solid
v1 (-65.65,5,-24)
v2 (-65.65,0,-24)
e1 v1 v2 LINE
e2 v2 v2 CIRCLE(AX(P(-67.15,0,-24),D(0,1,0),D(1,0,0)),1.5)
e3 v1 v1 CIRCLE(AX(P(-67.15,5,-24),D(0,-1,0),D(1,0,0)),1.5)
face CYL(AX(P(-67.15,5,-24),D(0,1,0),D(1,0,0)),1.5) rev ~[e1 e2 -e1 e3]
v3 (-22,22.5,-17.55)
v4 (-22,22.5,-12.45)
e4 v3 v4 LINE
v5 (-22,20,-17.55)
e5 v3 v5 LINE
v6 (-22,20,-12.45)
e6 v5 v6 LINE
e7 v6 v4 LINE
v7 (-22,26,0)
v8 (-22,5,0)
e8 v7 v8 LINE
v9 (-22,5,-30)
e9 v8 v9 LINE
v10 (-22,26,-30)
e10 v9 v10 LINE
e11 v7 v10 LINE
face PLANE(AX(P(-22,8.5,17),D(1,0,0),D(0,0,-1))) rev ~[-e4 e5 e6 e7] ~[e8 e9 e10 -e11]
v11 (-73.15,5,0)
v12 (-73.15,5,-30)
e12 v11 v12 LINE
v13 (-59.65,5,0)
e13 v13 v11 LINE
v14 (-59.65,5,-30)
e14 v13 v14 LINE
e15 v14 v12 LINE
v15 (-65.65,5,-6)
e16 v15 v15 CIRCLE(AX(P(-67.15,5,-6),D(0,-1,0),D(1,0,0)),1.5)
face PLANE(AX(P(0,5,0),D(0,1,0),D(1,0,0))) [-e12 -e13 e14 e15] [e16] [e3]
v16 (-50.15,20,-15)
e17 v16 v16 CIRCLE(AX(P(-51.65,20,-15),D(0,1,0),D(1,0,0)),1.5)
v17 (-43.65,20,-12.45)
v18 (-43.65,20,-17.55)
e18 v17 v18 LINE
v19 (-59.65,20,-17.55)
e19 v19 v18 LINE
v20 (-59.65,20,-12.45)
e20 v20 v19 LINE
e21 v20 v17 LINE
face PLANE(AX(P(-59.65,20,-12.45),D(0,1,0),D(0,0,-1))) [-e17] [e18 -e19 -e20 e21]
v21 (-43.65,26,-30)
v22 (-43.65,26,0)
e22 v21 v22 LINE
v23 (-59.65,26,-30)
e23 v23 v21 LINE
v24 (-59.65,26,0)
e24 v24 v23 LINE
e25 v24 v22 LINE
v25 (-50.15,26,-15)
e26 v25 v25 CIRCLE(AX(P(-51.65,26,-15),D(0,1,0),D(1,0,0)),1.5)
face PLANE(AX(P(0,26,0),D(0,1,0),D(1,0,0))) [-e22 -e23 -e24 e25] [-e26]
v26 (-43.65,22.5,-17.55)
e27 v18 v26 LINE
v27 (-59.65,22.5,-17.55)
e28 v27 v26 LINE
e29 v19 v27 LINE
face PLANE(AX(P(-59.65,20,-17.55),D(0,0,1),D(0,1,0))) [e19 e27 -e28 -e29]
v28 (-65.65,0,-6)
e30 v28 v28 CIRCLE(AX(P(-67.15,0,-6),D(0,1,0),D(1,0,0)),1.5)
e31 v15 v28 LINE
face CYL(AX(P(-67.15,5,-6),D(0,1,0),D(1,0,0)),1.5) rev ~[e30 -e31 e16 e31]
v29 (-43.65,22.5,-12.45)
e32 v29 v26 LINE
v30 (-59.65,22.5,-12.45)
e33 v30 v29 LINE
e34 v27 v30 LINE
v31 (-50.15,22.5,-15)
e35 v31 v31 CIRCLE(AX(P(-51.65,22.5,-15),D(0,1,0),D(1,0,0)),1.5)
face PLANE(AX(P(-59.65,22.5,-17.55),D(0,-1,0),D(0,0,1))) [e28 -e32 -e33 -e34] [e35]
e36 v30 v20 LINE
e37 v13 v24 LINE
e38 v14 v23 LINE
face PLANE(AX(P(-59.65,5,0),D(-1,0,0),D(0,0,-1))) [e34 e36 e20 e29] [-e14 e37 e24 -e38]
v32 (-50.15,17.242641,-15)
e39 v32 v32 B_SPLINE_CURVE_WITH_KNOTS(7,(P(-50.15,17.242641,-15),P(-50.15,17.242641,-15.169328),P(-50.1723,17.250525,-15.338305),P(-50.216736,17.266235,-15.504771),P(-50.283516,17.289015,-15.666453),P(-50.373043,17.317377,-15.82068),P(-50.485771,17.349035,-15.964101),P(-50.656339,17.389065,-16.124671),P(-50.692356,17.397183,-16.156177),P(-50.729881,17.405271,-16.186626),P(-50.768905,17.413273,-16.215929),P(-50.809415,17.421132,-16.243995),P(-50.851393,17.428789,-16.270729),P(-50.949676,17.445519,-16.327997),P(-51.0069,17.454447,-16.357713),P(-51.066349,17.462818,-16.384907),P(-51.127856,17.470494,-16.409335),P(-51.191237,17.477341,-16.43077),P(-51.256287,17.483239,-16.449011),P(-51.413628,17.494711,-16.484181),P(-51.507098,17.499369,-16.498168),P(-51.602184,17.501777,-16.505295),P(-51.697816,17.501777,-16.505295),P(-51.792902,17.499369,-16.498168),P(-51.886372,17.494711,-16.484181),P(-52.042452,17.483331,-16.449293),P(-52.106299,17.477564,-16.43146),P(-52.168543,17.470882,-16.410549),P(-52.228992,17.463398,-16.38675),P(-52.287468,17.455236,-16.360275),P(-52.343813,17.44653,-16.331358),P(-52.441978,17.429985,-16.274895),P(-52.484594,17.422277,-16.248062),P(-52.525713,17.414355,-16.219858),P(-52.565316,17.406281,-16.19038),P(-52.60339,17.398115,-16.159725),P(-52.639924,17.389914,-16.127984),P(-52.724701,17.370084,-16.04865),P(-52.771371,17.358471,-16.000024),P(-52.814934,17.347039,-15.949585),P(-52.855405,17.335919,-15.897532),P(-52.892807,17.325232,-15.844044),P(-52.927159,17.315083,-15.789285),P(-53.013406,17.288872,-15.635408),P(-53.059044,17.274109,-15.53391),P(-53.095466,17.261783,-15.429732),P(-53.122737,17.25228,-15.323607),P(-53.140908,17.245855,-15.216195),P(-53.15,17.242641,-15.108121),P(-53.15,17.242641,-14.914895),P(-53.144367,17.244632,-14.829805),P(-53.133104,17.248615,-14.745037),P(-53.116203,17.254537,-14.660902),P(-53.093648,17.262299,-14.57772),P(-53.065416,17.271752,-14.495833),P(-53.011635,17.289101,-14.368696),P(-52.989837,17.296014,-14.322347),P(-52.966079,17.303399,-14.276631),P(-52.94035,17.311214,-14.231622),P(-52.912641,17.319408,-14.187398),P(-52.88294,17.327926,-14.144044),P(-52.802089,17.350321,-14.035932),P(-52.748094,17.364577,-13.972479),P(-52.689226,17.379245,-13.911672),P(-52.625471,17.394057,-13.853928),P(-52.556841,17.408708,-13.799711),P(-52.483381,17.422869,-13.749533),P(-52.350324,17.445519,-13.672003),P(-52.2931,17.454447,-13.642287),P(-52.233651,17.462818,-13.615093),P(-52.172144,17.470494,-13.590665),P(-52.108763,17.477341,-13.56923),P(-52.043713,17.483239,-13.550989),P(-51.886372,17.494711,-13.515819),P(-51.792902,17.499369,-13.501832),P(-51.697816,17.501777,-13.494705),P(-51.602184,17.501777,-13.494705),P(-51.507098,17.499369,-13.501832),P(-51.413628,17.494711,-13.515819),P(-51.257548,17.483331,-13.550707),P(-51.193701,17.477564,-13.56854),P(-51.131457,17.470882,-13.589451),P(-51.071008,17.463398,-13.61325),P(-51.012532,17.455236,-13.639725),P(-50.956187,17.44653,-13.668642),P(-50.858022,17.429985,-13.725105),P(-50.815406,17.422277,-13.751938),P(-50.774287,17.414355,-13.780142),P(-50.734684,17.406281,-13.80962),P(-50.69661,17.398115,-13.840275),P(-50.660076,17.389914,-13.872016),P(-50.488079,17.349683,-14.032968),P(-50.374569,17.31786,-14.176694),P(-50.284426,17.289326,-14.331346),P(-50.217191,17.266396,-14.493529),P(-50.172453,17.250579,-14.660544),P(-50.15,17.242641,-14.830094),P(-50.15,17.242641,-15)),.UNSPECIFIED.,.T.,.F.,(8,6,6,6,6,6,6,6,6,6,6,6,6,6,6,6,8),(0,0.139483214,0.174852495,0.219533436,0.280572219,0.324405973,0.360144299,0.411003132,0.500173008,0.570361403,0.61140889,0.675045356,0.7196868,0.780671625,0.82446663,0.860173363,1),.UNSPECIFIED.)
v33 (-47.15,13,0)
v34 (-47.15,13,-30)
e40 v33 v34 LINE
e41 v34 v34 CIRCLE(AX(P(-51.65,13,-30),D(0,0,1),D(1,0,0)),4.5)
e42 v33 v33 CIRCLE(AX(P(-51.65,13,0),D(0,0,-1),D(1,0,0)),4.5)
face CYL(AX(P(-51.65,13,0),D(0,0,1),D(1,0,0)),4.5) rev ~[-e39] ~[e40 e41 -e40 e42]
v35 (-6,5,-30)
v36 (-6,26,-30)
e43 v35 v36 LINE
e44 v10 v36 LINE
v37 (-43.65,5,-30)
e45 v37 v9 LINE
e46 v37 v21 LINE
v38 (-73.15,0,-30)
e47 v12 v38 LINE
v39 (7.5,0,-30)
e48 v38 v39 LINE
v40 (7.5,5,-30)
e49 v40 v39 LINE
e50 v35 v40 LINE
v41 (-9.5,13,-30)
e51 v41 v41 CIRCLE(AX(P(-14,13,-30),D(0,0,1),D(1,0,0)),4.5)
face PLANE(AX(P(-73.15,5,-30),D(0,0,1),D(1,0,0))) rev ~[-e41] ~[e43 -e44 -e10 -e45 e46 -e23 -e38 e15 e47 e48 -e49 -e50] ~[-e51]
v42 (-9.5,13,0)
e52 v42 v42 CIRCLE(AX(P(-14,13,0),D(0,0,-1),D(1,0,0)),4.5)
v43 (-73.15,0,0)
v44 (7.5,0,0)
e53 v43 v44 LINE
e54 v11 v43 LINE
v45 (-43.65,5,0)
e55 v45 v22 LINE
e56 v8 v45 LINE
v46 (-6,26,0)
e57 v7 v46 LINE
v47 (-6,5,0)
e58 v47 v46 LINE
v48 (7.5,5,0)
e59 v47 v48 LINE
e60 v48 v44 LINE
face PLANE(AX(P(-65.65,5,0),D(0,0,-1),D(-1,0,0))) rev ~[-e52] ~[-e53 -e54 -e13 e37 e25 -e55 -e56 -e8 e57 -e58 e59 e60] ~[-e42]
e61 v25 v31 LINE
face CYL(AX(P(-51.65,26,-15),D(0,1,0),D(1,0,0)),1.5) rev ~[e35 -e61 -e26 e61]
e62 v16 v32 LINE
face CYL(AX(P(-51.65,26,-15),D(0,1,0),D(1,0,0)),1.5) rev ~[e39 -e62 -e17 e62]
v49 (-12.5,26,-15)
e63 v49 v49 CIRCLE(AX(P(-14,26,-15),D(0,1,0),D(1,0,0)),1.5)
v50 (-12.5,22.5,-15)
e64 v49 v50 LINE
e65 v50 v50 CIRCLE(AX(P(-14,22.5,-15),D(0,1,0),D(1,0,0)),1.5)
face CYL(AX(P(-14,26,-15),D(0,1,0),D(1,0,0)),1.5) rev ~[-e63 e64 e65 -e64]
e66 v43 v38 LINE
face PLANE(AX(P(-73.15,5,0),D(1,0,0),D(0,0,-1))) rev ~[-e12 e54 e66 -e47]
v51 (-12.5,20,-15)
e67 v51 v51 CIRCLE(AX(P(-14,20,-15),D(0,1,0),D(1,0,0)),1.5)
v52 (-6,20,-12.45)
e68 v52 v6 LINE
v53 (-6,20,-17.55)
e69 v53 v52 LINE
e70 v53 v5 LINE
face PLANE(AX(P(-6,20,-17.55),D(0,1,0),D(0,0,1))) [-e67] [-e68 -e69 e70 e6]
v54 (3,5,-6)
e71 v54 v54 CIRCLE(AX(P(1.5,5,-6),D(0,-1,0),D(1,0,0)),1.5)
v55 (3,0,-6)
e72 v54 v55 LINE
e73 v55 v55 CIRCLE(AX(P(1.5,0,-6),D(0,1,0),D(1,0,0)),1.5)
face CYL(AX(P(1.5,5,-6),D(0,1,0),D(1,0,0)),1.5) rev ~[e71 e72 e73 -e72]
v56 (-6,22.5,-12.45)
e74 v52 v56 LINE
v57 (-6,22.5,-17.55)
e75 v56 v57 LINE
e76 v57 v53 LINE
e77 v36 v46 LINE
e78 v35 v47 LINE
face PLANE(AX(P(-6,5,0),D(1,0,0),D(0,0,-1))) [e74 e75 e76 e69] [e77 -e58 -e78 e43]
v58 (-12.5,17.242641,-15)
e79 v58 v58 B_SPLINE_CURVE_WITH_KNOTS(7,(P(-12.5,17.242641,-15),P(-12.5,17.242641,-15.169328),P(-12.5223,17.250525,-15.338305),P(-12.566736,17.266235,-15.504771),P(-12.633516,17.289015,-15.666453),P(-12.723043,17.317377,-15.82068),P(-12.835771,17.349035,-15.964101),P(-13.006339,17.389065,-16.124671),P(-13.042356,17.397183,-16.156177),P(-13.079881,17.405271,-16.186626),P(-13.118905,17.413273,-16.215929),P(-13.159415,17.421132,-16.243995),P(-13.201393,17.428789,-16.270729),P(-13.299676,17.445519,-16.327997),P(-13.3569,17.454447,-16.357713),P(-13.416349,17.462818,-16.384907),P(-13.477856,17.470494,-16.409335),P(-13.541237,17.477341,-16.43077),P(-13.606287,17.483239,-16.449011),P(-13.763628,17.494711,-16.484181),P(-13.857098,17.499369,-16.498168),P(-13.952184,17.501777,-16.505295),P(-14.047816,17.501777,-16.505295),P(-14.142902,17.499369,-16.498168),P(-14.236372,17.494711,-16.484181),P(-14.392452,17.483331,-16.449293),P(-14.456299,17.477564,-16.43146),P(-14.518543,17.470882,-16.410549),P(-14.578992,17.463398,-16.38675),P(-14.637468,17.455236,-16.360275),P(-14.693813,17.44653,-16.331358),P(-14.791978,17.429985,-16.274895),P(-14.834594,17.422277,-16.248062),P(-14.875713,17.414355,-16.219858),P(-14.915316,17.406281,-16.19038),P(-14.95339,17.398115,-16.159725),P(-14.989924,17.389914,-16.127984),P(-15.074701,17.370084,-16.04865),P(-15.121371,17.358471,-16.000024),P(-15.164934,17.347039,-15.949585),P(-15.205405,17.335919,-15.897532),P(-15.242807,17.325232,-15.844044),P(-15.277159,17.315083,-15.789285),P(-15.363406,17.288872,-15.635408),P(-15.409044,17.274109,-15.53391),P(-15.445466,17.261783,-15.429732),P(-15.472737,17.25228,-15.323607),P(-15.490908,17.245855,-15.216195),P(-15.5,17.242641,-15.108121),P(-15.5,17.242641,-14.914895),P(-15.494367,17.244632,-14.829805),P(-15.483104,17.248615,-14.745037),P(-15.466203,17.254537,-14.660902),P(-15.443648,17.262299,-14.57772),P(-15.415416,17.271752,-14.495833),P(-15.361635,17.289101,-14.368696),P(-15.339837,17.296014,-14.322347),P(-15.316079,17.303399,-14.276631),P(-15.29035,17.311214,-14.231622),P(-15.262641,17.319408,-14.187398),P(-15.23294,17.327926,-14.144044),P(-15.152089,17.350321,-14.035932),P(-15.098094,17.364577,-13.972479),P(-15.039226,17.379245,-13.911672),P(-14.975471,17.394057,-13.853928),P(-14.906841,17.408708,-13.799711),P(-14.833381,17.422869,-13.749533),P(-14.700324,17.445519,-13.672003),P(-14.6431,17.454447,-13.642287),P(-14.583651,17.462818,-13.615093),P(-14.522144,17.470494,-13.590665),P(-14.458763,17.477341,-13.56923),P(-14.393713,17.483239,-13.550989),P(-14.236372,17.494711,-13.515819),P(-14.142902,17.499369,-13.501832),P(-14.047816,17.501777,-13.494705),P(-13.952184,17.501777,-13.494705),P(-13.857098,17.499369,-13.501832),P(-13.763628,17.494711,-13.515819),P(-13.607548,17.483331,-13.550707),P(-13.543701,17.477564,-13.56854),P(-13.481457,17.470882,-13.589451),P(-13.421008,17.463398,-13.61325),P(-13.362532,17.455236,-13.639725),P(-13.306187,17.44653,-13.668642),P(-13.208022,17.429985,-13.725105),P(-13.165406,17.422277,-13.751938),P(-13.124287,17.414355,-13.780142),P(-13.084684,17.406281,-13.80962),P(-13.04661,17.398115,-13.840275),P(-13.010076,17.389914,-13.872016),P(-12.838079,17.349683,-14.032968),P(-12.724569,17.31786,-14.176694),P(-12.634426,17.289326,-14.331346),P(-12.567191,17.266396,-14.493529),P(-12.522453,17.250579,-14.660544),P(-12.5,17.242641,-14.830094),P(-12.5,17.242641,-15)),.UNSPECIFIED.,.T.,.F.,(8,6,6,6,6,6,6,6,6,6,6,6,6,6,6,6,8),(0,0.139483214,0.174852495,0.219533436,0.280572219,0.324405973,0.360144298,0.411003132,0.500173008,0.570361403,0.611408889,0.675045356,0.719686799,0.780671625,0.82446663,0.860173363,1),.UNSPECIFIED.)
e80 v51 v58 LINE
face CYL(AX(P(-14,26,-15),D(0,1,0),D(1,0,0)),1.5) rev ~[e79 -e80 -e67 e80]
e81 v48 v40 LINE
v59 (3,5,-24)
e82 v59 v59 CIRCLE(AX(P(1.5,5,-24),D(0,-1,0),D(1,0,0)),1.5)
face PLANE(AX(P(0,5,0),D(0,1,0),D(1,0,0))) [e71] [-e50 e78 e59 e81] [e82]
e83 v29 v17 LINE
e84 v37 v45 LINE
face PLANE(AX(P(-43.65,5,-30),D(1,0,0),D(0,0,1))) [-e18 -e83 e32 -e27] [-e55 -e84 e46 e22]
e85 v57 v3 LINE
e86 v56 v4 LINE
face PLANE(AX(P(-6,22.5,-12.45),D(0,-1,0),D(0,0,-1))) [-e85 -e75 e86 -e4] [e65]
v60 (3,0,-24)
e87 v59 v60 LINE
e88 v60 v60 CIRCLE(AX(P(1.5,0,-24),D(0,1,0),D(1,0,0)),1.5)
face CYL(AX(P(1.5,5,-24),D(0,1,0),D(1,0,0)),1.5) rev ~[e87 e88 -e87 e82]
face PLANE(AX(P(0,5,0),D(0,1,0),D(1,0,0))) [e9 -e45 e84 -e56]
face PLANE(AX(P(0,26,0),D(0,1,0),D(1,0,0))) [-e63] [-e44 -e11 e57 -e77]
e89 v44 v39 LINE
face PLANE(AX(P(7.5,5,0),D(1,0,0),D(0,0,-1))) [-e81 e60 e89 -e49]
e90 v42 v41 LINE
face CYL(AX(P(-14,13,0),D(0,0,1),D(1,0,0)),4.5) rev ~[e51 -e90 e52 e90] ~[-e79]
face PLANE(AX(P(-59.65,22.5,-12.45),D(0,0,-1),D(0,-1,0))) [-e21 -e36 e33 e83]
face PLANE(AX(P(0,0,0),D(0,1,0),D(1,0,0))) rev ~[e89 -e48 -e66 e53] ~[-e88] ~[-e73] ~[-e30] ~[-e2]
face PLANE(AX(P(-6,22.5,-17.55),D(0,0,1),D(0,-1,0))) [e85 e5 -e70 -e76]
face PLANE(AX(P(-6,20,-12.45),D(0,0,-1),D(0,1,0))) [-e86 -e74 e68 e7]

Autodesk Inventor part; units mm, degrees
ref_plane "YZ Plane" through (0, 0, 0) normal (1, 0, 0) x (0, 1, 0)
ref_plane "XZ Plane" through (0, 0, 0) normal (0, 1, 0) x (-1, 0, 0)
ref_plane "XY Plane" through (0, 0, 0) normal (0, 0, 1) x (1, 0, 0)
sketch "Skizze1" plane through (0, 0, 0) normal (0, 1, 0) x (-1, 0, 0)
  line L0 (0, 0) -> (65.65, 0)
  line L1 (65.65, 0) -> (65.65, -80)
  line L2 (65.65, -80) -> (0, -80)
  line L3 (0, -80) -> (0, 0)
  dimension "d0" = 65.65
  dimension "d1" = 80
extrude "Extrusion1" add sketch "Skizze1" along normal blind 5
sketch "Skizze2" plane through (0, 5, 0) normal (0, 1, 0) x (1, 0, 0)
  line L0 (-65.65, 80) -> (-65.65, 0) projected
  line L1 (-65.65, 0) -> (0, 0) projected
  line L2 (-65.65, 0) -> (-59.65, 0) construction
  line L3 (-59.65, 0) -> (-59.65, 30)
  line L4 (-59.65, 30) -> (-43.65, 30)
  line L5 (-43.65, 30) -> (-43.65, 0)
  line L6 (-43.65, 0) -> (-59.65, 0)
  line L7 (-22, 0) -> (-22, 30)
  line L8 (-22, 30) -> (-6, 30)
  line L9 (-6, 30) -> (-6, 0)
  line L10 (-6, 0) -> (-22, 0)
  dimension "d4" = 6
  dimension "d6" = 30
  dimension "d7" = 16
  dimension "d8" = 90
  dimension "d9" = 16
  dimension "d10" = 21.65
  dimension "d11" = 30
  dimension "d12" = 16
  dimension "d13" = 90
  dimension "d14" = 30
  dimension "d15" = 90
extrude "Extrusion2" add sketch "Skizze2" along normal blind 21 contours L3 L4 L5 L1
sketch "Skizze3" plane through (0, 5, 0) normal (0, 1, 0) x (1, 0, 0)
  line L0 (-43.65, 0) -> (0, 0) projected
  line L1 (-43.65, 0) -> (-22, 0)
  line L2 (-22, 0) -> (-22, 30)
  line L3 (-22, 30) -> (-6, 30)
  line L4 (-6, 30) -> (-6, 0)
  line L5 (-6, 0) -> (-22, 0)
  dimension "d18" = 21.65
  dimension "d19" = 30
  dimension "d21" = 16
  dimension "d22" = 16
extrude "Extrusion3" add sketch "Skizze3" along normal blind 21
sketch "Skizze4" plane through (0, 5, 0) normal (0, 1, 0) x (1, 0, 0)
  line L0 (-65.65, 0) -> (0, 0) projected
  line L1 (-5.9719, 0) -> (14.5281, 0)
  line L2 (14.5281, 0) -> (14.5281, 80)
  line L3 (0, 0) -> (0, 80) projected
  line L4 (14.5281, 80) -> (0, 80)
  line L5 (0, 80) -> (0, 0)
  dimension "d25" = 20.5
  dimension "d26" = 80
  dimension "d27" = 90
extrude "Extrusion4" add sketch "Skizze4" against normal blind 5
sketch "Skizze5" plane through (0, 5, 0) normal (0, 1, 0) x (1, 0, 0)
  line L0 (-22, 30) -> (-6, 30) projected
  line L1 (-22, 30) -> (-14, 30)
  line L2 (-14, 30) -> (-14, 38)
  line L3 (-14, 38) -> (-29.5, 38)
  circle A0 centre (-29.5, 38) radius 1
  point P0 (0, 0)
  dimension "d30" = 8
  dimension "d31" = 8
  dimension "d32" = 15.5
  dimension "d33" = 2
extrude "Extrusion5" cut sketch "Skizze5" against normal blind 5
sketch "Skizze6" plane through (0, 5, 0) normal (0, 1, 0) x (1, 0, 0)
  circle A0 centre (-29.5, 38) radius 1 projected
  line L0 (-29.5, 38) -> (1.5, 38)
  line L1 (-29.5, 38) -> (1.5, 38) construction
  circle A1 centre (1.5, 38) radius 1
  point P0 (0, 0)
  dimension "d36" = 31
  dimension "d37" = 0
  dimension "d38" = 2
extrude "Extrusion6" cut sketch "Skizze6" against normal blind 5 contours A1
sketch "Skizze7" plane through (0, 5, 0) normal (0, 1, 0) x (1, 0, 0)
  circle A0 centre (1.5, 38) radius 1 projected
  line L0 (1.5, 38) -> (1.5, 69)
  circle A1 centre (1.5, 69) radius 1
  point P0 (0, 0)
  dimension "d41" = 31
  dimension "d42" = 2
extrude "Extrusion7" cut sketch "Skizze7" against normal blind 5 contours A1
sketch "Skizze8" plane through (0, 5, 0) normal (0, 1, 0) x (1, 0, 0)
  circle A0 centre (-29.5, 38) radius 1 projected
  line L0 (-29.5, 38) -> (-29.5, 69)
  circle A1 centre (-29.5, 69) radius 1
  point P0 (0, 0)
  dimension "d45" = 31
  dimension "d46" = 2
extrude "Extrusion8" cut sketch "Skizze8" against normal blind 5 contours A1
sketch "Skizze9" plane through (0, 5, 0) normal (0, 1, 0) x (1, 0, 0)
  circle A0 centre (1.5, 38) radius 1 projected
  line L0 (1.5, 38) -> (7.5, 38)
  line L1 (14.5281, 80) -> (-65.65, 80) projected
  line L2 (-65.65, 0) -> (14.5281, 0) projected
  line L3 (14.5281, 0) -> (14.5281, 80) projected
  line L4 (7.5, 38) -> (14.5281, 38)
  line L5 (14.5281, 38) -> (14.5281, 80)
  line L6 (14.5281, 80) -> (7.5, 80)
  line L7 (7.5, 80) -> (7.5, 38)
  point P0 (0, 0)
  dimension "d49" = 6
extrude "Extrusion9" cut sketch "Skizze9" against normal blind 5 contours L7 L1 L3 L4
sketch "Skizze10" plane through (0, 5, 0) normal (0, 1, 0) x (1, 0, 0)
  line L0 (7.5, 38) -> (7.5, 80) projected
  line L1 (14.5281, 0) -> (14.5281, 38) projected
  line L2 (7.5, 38) -> (14.5281, 38)
  line L3 (14.5281, 38) -> (14.5281, 0)
  line L4 (14.5281, 0) -> (7.5, 0)
  line L5 (7.5, 0) -> (7.5, 38)
  point P0 (0, 0)
extrude "Extrusion10" cut sketch "Skizze10" against normal blind 5
sketch "Skizze11" plane through (0, 5, 0) normal (0, 1, 0) x (1, 0, 0)
  circle A0 centre (1.5, 69) radius 1 projected
  line L0 (1.5, 69) -> (1.5, 75)
  line L1 (1.5, 75) -> (7.5, 75)
  line L2 (7.5, 0) -> (7.5, 80) projected
  line L3 (7.5, 80) -> (1.5, 80)
  line L4 (7.5, 80) -> (-65.65, 80) projected
  line L5 (1.5, 75) -> (1.5, 80)
  point P0 (0, 0)
  dimension "d54" = 6
extrude "Extrusion11" cut sketch "Skizze11" against normal blind 5 contours L5 L3 L2 L1
sketch "Skizze12" plane through (0, 5, 0) normal (0, 1, 0) x (1, 0, 0)
  line L0 (1.5, 80) -> (-65.65, 80) projected
  line L1 (1.5, 75) -> (-65.65, 75)
  line L2 (-65.65, 75) -> (-65.65, 80)
  line L3 (-65.65, 80) -> (1.5, 80)
  line L4 (1.5, 80) -> (1.5, 75)
  point P0 (0, 0)
extrude "Extrusion12" cut sketch "Skizze12" against normal blind 5
sketch "Skizze13" plane through (0, 5, 0) normal (0, 1, 0) x (1, 0, 0)
  circle A0 centre (1.5, 38) radius 1 projected
  line L0 (1.5, 38) -> (1.5, 23)
  circle A1 centre (1.5, 23) radius 1
  point P0 (0, 0)
  dimension "d59" = 15
  dimension "d60" = 2
extrude "Extrusion13" cut sketch "Skizze13" against normal blind 5 contours A1
sketch "Skizze14" plane through (0, 5, 0) normal (0, 1, 0) x (1, 0, 0)
  circle A0 centre (1.5, 23) radius 1 projected
  line L0 (-65.65, 0) -> (7.5, 0) projected
  line L1 (-6, 30) -> (-6, 0) projected
  line L2 (1.5, 0) -> (-6, 0)
  line L3 (1.5, 0) -> (1.5, 6)
  circle A1 centre (1.5, 6) radius 1
  point P0 (0, 0)
  dimension "d63" = 6
  dimension "d64" = 2
extrude "Extrusion14" cut sketch "Skizze14" against normal blind 5 contours A1
sketch "Skizze15" plane through (0, 5, 0) normal (0, 1, 0) x (1, 0, 0)
  line L0 (-65.65, 0) -> (7.5, 0) projected
  line L1 (-65.65, 0) -> (-62.65, 0)
  line L2 (-62.65, 0) -> (-62.65, 6)
  circle A0 centre (-62.65, 6) radius 1
  point P0 (0, 0)
  dimension "d67" = 3
  dimension "d68" = 6
  dimension "d69" = 2
extrude "Extrusion15" cut sketch "Skizze15" against normal blind 5
sketch "Skizze16" plane through (0, 5, 0) normal (0, 1, 0) x (1, 0, 0)
  circle A0 centre (-62.65, 6) radius 1 projected
  line L0 (-62.65, 6) -> (-62.65, 23)
  circle A1 centre (-62.65, 23) radius 1
  point P0 (0, 0)
  dimension "d72" = 17
  dimension "d73" = 2
extrude "Extrusion16" cut sketch "Skizze16" against normal blind 5 contours A1
sketch "Skizze17" plane through (-65.65, 0, 0) normal (0, 0, 1) x (1, 0, 0)
  line L0 (6, 26) -> (22, 26) projected
  line L1 (6, 26) -> (14, 26)
  line L2 (14, 26) -> (14, 13)
  circle A0 centre (14, 13) radius 4.5
  point P0 (65.65, 0)
  dimension "d76" = 8
  dimension "d77" = 13
  dimension "d78" = 9
extrude "Extrusion17" cut sketch "Skizze17" against normal blind 30
sketch "Skizze18" plane through (-65.65, 0, 0) normal (0, 0, 1) x (1, 0, 0)
  line L0 (43.65, 5) -> (43.65, 26) projected
  line L1 (43.65, 26) -> (51.65, 26)
  line L2 (51.65, 26) -> (51.65, 13)
  circle A0 centre (51.65, 13) radius 4.5
  point P0 (65.65, 0)
  dimension "d81" = 8
  dimension "d82" = 13
  dimension "d83" = 9
extrude "Extrusion18" cut sketch "Skizze18" against normal blind 30
sketch "Skizze19" plane through (-59.65, 5, -30) normal (-1, 0, 0) x (0, 0, 1)
  line L0 (0, 0) -> (0, 21) projected
  line L1 (0, 21) -> (15, 21)
  line L2 (0, 21) -> (30, 21) projected
  line L3 (15, 21) -> (15, 17)
  line L4 (15, 17) -> (17.75, 17)
  line L5 (17.75, 17) -> (12.25, 17)
  line L6 (12.25, 17) -> (12.25, 15.75)
  line L7 (12.25, 15.75) -> (17.75, 15.75)
  line L8 (17.75, 15.75) -> (17.75, 17)
  point P0 (30, -5)
  dimension "d86" = 15
  dimension "d87" = 4
  dimension "d88" = 2.75
  dimension "d89" = 5.5
  dimension "d90" = 1.25
extrude "Extrusion19" cut sketch "Skizze19" against normal blind 16
sketch "Skizze20" plane through (0, 5, 0) normal (0, 1, 0) x (1, 0, 0)
  circle A0 centre (1.5, 23) radius 1 projected
  circle A1 centre (1.5, 23) radius 1.5
  point P0 (0, 0)
  dimension "d93" = 3
extrude "Extrusion20" cut sketch "Skizze20" against normal blind 5 contours A0 | A1
sketch "Skizze21" plane through (0, 5, 0) normal (0, 1, 0) x (1, 0, 0)
  circle A0 centre (1.5, 6) radius 1 projected
  circle A1 centre (1.5, 6) radius 1.5
  point P0 (0, 0)
  dimension "d96" = 3
extrude "Extrusion21" cut sketch "Skizze21" against normal blind 5 contours A0 | A1
sketch "Skizze22" plane through (0, 5, 0) normal (0, 1, 0) x (1, 0, 0)
  circle A0 centre (-62.65, 23) radius 1 projected
  circle A1 centre (-62.65, 23) radius 1.5
  point P0 (0, 0)
  dimension "d99" = 3
extrude "Extrusion22" cut sketch "Skizze22" against normal blind 5 contours A0 | A1
sketch "Skizze23" plane through (0, 5, 0) normal (0, 1, 0) x (1, 0, 0)
  circle A0 centre (-62.65, 6) radius 1 projected
  circle A1 centre (-62.65, 6) radius 1.5
  point P0 (0, 0)
  dimension "d102" = 3
extrude "Extrusion23" cut sketch "Skizze23" against normal blind 5 contours A0 | A1
sketch "Skizze24" plane through (0, 5, 0) normal (0, 1, 0) x (1, 0, 0)
  circle A0 centre (1.5, 69) radius 1 projected
  circle A1 centre (1.5, 69) radius 2.25
  point P0 (0, 0)
  dimension "d105" = 4.5
extrude "Extrusion24" cut sketch "Skizze24" against normal blind 5 contours A0 | A1
sketch "Skizze25" plane through (0, 5, 0) normal (0, 1, 0) x (1, 0, 0)
  circle A0 centre (-29.5, 69) radius 1 projected
  circle A1 centre (-29.5, 69) radius 2.25
  point P0 (0, 0)
  dimension "d108" = 4.5
extrude "Extrusion25" cut sketch "Skizze25" against normal blind 5 contours A0 | A1
sketch "Skizze26" plane through (0, 5, 0) normal (0, 1, 0) x (1, 0, 0)
  circle A0 centre (1.5, 38) radius 1 projected
  circle A1 centre (1.5, 38) radius 2.25
  point P0 (0, 0)
  dimension "d112" = 4.5
extrude "Extrusion26" cut sketch "Skizze26" against normal blind 5 contours A0 | A1
sketch "Skizze27" plane through (0, 5, 0) normal (0, 1, 0) x (1, 0, 0)
  circle A0 centre (-29.5, 38) radius 1 projected
  circle A1 centre (-29.5, 38) radius 2.25
  point P0 (0, 0)
  dimension "d115" = 4.5
extrude "Extrusion27" cut sketch "Skizze27" against normal blind 5 contours A0 | A1
sketch "Skizze28" plane through (0, 26, 0) normal (0, 1, 0) x (1, 0, 0)
  line L0 (-43.65, 30) -> (-43.65, 0) projected
  line L1 (-59.65, 0) -> (-59.65, 30) projected
  line L2 (-43.65, 0) -> (-59.65, 30)
  line L3 (-59.65, 30) -> (-43.65, 30) projected
  line L4 (-43.65, 30) -> (-59.65, 0)
  circle A0 centre (-51.65, 15) radius 1.5
  point P0 (0, 0)
  dimension "d118" = 3
extrude "Extrusion28" cut sketch "Skizze28" against normal blind 13 contours A0 L2 L4 | L4 L2 A0 | A0 L4 L2 | L2 L4 A0
sketch "Skizze29" plane through (-6, 5, 0) normal (1, 0, 0) x (0, 0, -1)
  line L0 (0, 21) -> (15, 21)
  line L1 (0, 21) -> (30, 21) projected
  line L2 (15, 21) -> (11, 21)
  line L3 (15, 21) -> (15, 17)
  line L4 (15, 21) -> (19, 21) construction
  line L5 (15, 17) -> (17.27, 17)
  line L6 (12.25, 17) -> (17.75, 17) projected
  line L7 (17.27, 17) -> (11.77, 17)
  line L8 (11.77, 17) -> (11.77, 15.75)
  line L9 (11.77, 15.75) -> (17.27, 15.75)
  line L10 (17.27, 15.75) -> (17.27, 17)
  point P0 (0, -5)
  dimension "d123" = 15
  dimension "d124" = 4
  dimension "d125" = 4
  dimension "d126" = 90
  dimension "d127" = 2.27
  dimension "d128" = 5.5
  dimension "d129" = 1.25
extrude "Extrusion29" cut sketch "Skizze29" against normal blind 16
sketch "Skizze30" plane through (0, 26, 0) normal (0, 1, 0) x (1, 0, 0)
  line L0 (-22, 30) -> (-22, 0) projected
  line L1 (-6, 0) -> (-6, 30) projected
  line L2 (-22, 0) -> (-6, 30)
  line L3 (-22, 30) -> (-6, 0)
  circle A0 centre (-14, 15) radius 1.5
  point P0 (0, 0)
  dimension "d132" = 3
extrude "Extrusion30" cut sketch "Skizze30" against normal blind 13 contours A0 L2 L3 | L3 L2 A0 | L2 L3 A0 | L2 A0 L3
sketch "Skizze31" plane through (0, 5, 0) normal (0, 1, 0) x (1, 0, 0)
  circle A0 centre (-29.5, 38) radius 2.25 projected
  circle A1 centre (1.5, 69) radius 2.25 projected
  line L0 (-29.5, 38) -> (1.5, 69)
  circle A2 centre (-29.5, 69) radius 2.25 projected
  circle A3 centre (1.5, 38) radius 2.25 projected
  line L1 (-29.5, 69) -> (1.5, 38)
  circle A4 centre (-14, 53.5) radius 11.5
  point P0 (0, 0)
  dimension "d137" = 23
extrude "Extrusion31" cut sketch "Skizze31" against normal blind 5 contours A4 L1 L0 | L0 L1 A4 | L1 A4 L0 | L0 A4 L1
sketch "Skizze32" plane through (0, 5, 0) normal (0, 1, 0) x (1, 0, 0)
  circle A0 centre (-29.5, 38) radius 2.25 projected
  circle A1 centre (-29.5, 38) radius 2.25
  point P0 (0, 0)
  dimension "d140" = 4.5
extrude "Extrusion32" add sketch "Skizze32" against normal blind 5
sketch "Skizze33" plane through (0, 5, 0) normal (0, 1, 0) x (1, 0, 0)
  circle A0 centre (-29.5, 69) radius 2.25 projected
  circle A1 centre (-29.5, 69) radius 2.25
  point P0 (0, 0)
  dimension "d143" = 4.5
extrude "Extrusion33" add sketch "Skizze33" against normal blind 5
sketch "Skizze34" plane through (0, 5, 0) normal (0, 1, 0) x (1, 0, 0)
  circle A0 centre (1.5, 38) radius 2.25 projected
  circle A1 centre (1.5, 38) radius 2.25
  point P0 (0, 0)
  dimension "d146" = 4.5
extrude "Extrusion34" add sketch "Skizze34" against normal blind 5
sketch "Skizze35" plane through (0, 5, 0) normal (0, 1, 0) x (1, 0, 0)
  circle A0 centre (-14, 53.5) radius 11.5 projected
  circle A1 centre (-14, 53.5) radius 11.5
  point P0 (0, 0)
  dimension "d149" = 23
extrude "Extrusion35" add sketch "Skizze35" against normal blind 5
sketch "Skizze36" plane through (0, 5, 0) normal (0, 1, 0) x (1, 0, 0)
  point P0 (0, 0)
sketch "Skizze37" plane through (0, 5, 0) normal (0, 1, 0) x (1, 0, 0)
  circle A0 centre (1.5, 69) radius 2.25 projected
  circle A1 centre (1.5, 69) radius 2.25
  point P0 (0, 0)
  dimension "d152" = 4.5
extrude "Extrusion36" add sketch "Skizze37" against normal blind 5
sketch "Skizze38" plane through (0, 5, 0) normal (0, 1, 0) x (1, 0, 0)
  circle A0 centre (1.5, 6) radius 1.5 projected
  circle A1 centre (1.5, 6) radius 1.5
  point P0 (0, 0)
  dimension "d155" = 3
extrude "Extrusion37" add sketch "Skizze38" against normal blind 5
sketch "Skizze39" plane through (0, 5, 0) normal (0, 1, 0) x (1, 0, 0)
  circle A0 centre (1.5, 23) radius 1.5 projected
  circle A1 centre (1.5, 23) radius 1.5
  point P0 (0, 0)
  dimension "d158" = 3
extrude "Extrusion38" add sketch "Skizze39" against normal blind 5
sketch "Skizze40" plane through (0, 5, 0) normal (0, 1, 0) x (1, 0, 0)
  line L0 (7.5, 75) -> (7.5, 0) projected
  line L1 (0, 0) -> (7.5, 0)
  line L2 (7.5, 0) -> (7.5, 75)
  line L3 (7.5, 75) -> (0, 75)
  line L4 (0, 75) -> (0, 0)
extrude "Extrusion39" cut sketch "Skizze40" against normal blind 5
sketch "Skizze41" plane through (0, 5, 0) normal (0, 1, 0) x (1, 0, 0)
  line L0 (0, 0) -> (0, 75) projected
  line L1 (0, 0) -> (-3, 0)
  line L2 (-6, 0) -> (0, 0) projected
  line L3 (-3, 0) -> (-9, 0)
  line L4 (-3, 0) -> (-3, 6)
  line L5 (-3, 0) -> (3, 0) construction
  circle A0 centre (-3, 6) radius 1.5
  dimension "d163" = 3
  dimension "d164" = 6
  dimension "d165" = 6
  dimension "d166" = 90
  dimension "d167" = 3
extrude "Extrusion40" cut sketch "Skizze41" against normal blind 5
sketch "Skizze42" plane through (0, 5, 0) normal (0, 1, 0) x (1, 0, 0)
  circle A0 centre (-3, 6) radius 1.5 projected
  line L0 (-3, 6) -> (-3, 23)
  line L1 (-3, 6) -> (14, 6) construction
  circle A1 centre (-3, 23) radius 1.5
  point P0 (0, 0)
  dimension "d170" = 17
  dimension "d171" = 90
  dimension "d172" = 3
extrude "Extrusion41" cut sketch "Skizze42" against normal blind 5 contours A1
sketch "Skizze43" plane through (0, 5, 0) normal (0, 1, 0) x (1, 0, 0)
  line L0 (-59.65, 30) -> (-43.65, 30) projected
  line L1 (-65.65, 75) -> (0, 75) projected
  line L2 (-59.65, 30) -> (0, 30)
  line L3 (0, 30) -> (0, 75)
  line L4 (0, 75) -> (-59.65, 75)
  line L5 (-59.65, 75) -> (-59.65, 30)
  point P0 (0, 0)
extrude "Extrusion42" cut sketch "Skizze43" against normal blind 5
sketch "Skizze44" plane through (0, 5, 0) normal (0, 1, 0) x (1, 0, 0)
  line L0 (-59.65, 0) -> (-59.65, 30) projected
  line L1 (-65.65, 75) -> (-59.65, 75) projected
  line L2 (-59.65, 30) -> (-65.65, 30)
  line L3 (-65.65, 30) -> (-65.65, 75)
  line L4 (-65.65, 75) -> (-59.65, 75)
  line L5 (-59.65, 75) -> (-59.65, 30)
  point P0 (0, 0)
extrude "Extrusion43" cut sketch "Skizze44" against normal blind 5
sketch "Skizze45" plane through (0, 5, 0) normal (0, 1, 0) x (1, 0, 0)
  point P0 (0, 0)
sketch "Skizze46" plane through (0, 5, 0) normal (0, 1, 0) x (1, 0, 0)
  line L0 (-65.65, 0) -> (0, 0) projected
  line L1 (-65.65, 0) -> (0, 0)
  line L2 (0, 0) -> (0, -15)
  line L3 (0, -15) -> (-65.65, -15)
  line L4 (-65.65, -15) -> (-65.65, 0)
  dimension "d179" = 15
extrude "Extrusion44" add sketch "Skizze46" against normal blind 5
sketch "Skizze47" plane through (0, 5, 0) normal (0, 1, 0) x (1, 0, 0)
  line L0 (-22, 0) -> (-22, 30) projected
  line L1 (-22, 0) -> (-28, 0)
  line L2 (-65.65, -15) -> (0, -15) projected
  line L3 (-28, 0) -> (-65.65, 0)
  line L4 (-65.65, 0) -> (-65.65, -15)
  line L5 (-65.65, -15) -> (-28, -15)
  line L6 (-28, -15) -> (-28, 0)
  point P0 (0, 0)
  dimension "d182" = 6
extrude "Extrusion45" cut sketch "Skizze47" against normal blind 5
sketch "Skizze48" plane through (-22, 5, 0) normal (0, 0, 1) x (1, 0, 0)
  point P0 (22, -5)
sketch "Skizze49" plane through (0, 5, 0) normal (0, 1, 0) x (1, 0, 0)
  line L0 (-22, 0) -> (-6, 0) projected
  line L1 (0, 30) -> (0, -15) projected
  line L2 (-6, 0) -> (0, 0)
  line L3 (0, 0) -> (0, -15)
  line L4 (0, -15) -> (-6, -15)
  line L5 (-6, -15) -> (-6, 0)
extrude "Extrusion46" cut sketch "Skizze49" against normal blind 5
sketch "Skizze50" plane through (0, 5, 0) normal (0, 1, 0) x (1, 0, 0)
  line L0 (-22, 0) -> (-6, 0) projected
  line L1 (-28, 0) -> (-28, -15) projected
  line L2 (-22, 0) -> (-28, 0)
  line L3 (-28, 0) -> (-28, -15)
  line L4 (-28, -15) -> (-22, -15)
  line L5 (-22, -15) -> (-22, 0)
  point P0 (0, 0)
extrude "Extrusion47" cut sketch "Skizze50" against normal blind 5
sketch "Skizze51" plane through (0, 5, 0) normal (0, 1, 0) x (1, 0, 0)
  line L0 (-6, -15) -> (-6, 0) projected
  line L1 (-6, -15) -> (-22, -15)
  line L2 (-22, -15) -> (-22, 0)
  line L3 (-22, 0) -> (-6, 0)
  line L4 (-6, 0) -> (-6, -15)
  point P0 (0, 0)
extrude "Extrusion48" add sketch "Skizze51" along normal blind 3.5
sketch "Skizze52" plane through (0, 8.5, 0) normal (0, 1, 0) x (1, 0, 0)
  line L0 (-22, 0) -> (-22, -15) projected
  line L1 (-6, -15) -> (-22, -15) projected
  line L2 (-22, 0) -> (-6, -15)
  line L3 (-14, 0) -> (-6, 0) projected
  line L4 (-6, 0) -> (-22, -15)
  circle A0 centre (-14, -7.5) radius 4.5
  point P0 (0, 0)
  dimension "d191" = 9
extrude "Extrusion49" cut sketch "Skizze52" against normal blind 10 contours A0 L4 L2 | L2 L4 A0 | L4 L2 A0 | L4 A0 L2
sketch "Skizze53" plane through (0, 8.5, 0) normal (0, 1, 0) x (1, 0, 0)
  line L0 (-22, -15) -> (-22, 0) projected
  line L1 (-22, -15) -> (-6, -15)
  line L2 (-6, -15) -> (-6, -17)
  line L3 (-6, -17) -> (-22, -17)
  line L4 (-22, -17) -> (-22, -15)
  point P0 (0, 0)
  dimension "d194" = 16
  dimension "d195" = 2
extrude "Extrusion50" add sketch "Skizze53" against normal blind 8.5
sketch "Skizze55" plane through (0, 8.5, 0) normal (0, 1, 0) x (1, 0, 0)
  line L0 (-11.5057, -13.8835) -> (-16.5057, -13.8835)
  line L1 (-16.5057, -13.8835) -> (-16.5057, -15.1335)
  line L2 (-16.5057, -15.1335) -> (-11.5057, -15.1335)
  line L3 (-11.5057, -15.1335) -> (-11.5057, -13.8835)
  point P0 (0, 0)
  dimension "d204" = 5
  dimension "d205" = 1.25
extrude "Extrusion51" cut sketch "Skizze55" against normal blind 8.5
sketch "Skizze56" plane through (-22, 8.5, 17) normal (0, 0, 1) x (1, 0, 0)
  line L0 (8, 0) -> (16, 0) projected
  line L1 (16, 0) -> (-0.1957, -8.5)
  line L2 (-43.65, -8.5) -> (22, -8.5) projected
  line L3 (0, -3.5) -> (0, 17.5) projected
  line L4 (16, -3.5) -> (16, -8.5) projected
  line L5 (0, 0) -> (16, -8.5)
  circle A0 centre (8, -4.25) radius 1.5
  dimension "d208" = 3
extrude "Extrusion52" cut sketch "Skizze56" against normal blind 6 contours A0 L5 L1 | L1 L5 A0 | L5 A0 L1 | L1 A0 L5
sketch "Skizze57" plane through (0, 8.5, 0) normal (0, 1, 0) x (1, 0, 0)
  line L0 (-22, 0) -> (-22, -17) projected
  line L1 (-22, 0) -> (-6, 0) projected
  line L2 (-22, -17) -> (-6, -17)
  line L3 (-6, -17) -> (-6, 0)
  line L4 (-6, 0) -> (-22, 0)
  line L5 (-22, 0) -> (-22, -17)
  point P0 (0, 0)
extrude "Extrusion53" cut sketch "Skizze57" against normal blind 10
sketch "Skizze58" plane through (0, 5, 0) normal (0, 1, 0) x (1, 0, 0)
  line L0 (-22, 0) -> (-6, 0) projected
  line L1 (-6, 0) -> (7.5, 0)
  line L2 (-6, 0) -> (0, 0) projected
  line L3 (0, 0) -> (7.5, 0)
  line L4 (7.5, 0) -> (7.5, 30)
  line L5 (7.5, 30) -> (0, 30)
  line L6 (0, 30) -> (0, 0)
  dimension "d213" = 13.5
  dimension "d214" = 30
extrude "Extrusion54" add sketch "Skizze58" against normal blind 5
sketch "Skizze59" plane through (0, 5, 0) normal (0, 1, 0) x (1, 0, 0)
  line L0 (-59.65, 0) -> (-73.15, 0)
  line L1 (-59.65, 0) -> (-46.15, 0) construction
  line L2 (-65.65, 30) -> (-65.65, 0) projected
  line L3 (-65.65, 0) -> (-73.15, 0)
  line L4 (-73.15, 0) -> (-73.15, 30)
  line L5 (-73.15, 30) -> (-65.65, 30)
  line L6 (-65.65, 30) -> (-65.65, 0)
  point P0 (0, 0)
  dimension "d217" = 13.5
  dimension "d218" = 180
  dimension "d219" = 30
extrude "Extrusion55" add sketch "Skizze59" against normal blind 5
sketch "Skizze60" plane through (0, 5, 0) normal (0, 1, 0) x (1, 0, 0)
  circle A0 centre (-3, 6) radius 1.5 projected
  circle A1 centre (-3, 6) radius 1.5
  point P0 (0, 0)
  dimension "d222" = 3
extrude "Extrusion56" add sketch "Skizze60" against normal blind 5
sketch "Skizze61" plane through (0, 5, 0) normal (0, 1, 0) x (1, 0, 0)
  circle A0 centre (-3, 23) radius 1.5 projected
  circle A1 centre (-3, 23) radius 1.5
  point P0 (0, 0)
extrude "Extrusion57" add sketch "Skizze61" against normal blind 5
sketch "Skizze62" plane through (0, 5, 0) normal (0, 1, 0) x (1, 0, 0)
  line L0 (7.5, 0) -> (7.5, 30) projected
  line L1 (7.5, 0) -> (1.5, 0)
  line L2 (1.5, 0) -> (1.5, 6)
  line L3 (1.5, 6) -> (7.5, 6)
  line L4 (7.5, 6) -> (7.5, 0)
  circle A0 centre (1.5, 6) radius 1.5
  point P0 (0, 0)
  dimension "d227" = 6
  dimension "d228" = 6
  dimension "d229" = 3
extrude "Extrusion58" cut sketch "Skizze62" against normal blind 5 contours A0 L2 L3 | L3 L2 A0
sketch "Skizze63" plane through (0, 5, 0) normal (0, 1, 0) x (1, 0, 0)
  circle A0 centre (1.5, 6) radius 1.5 projected
  line L0 (1.5, 6) -> (1.5, 23)
  line L1 (7.5, 30) -> (7.5, 0) projected
  line L2 (7.5, 30) -> (1.5, 30)
  line L3 (1.5, 30) -> (1.5, 24)
  line L4 (1.5, 24) -> (7.5, 24)
  line L5 (7.5, 24) -> (7.5, 30)
  circle A1 centre (1.5, 24) radius 1.5
  point P0 (0, 0)
  dimension "d232" = 17
  dimension "d233" = 6
  dimension "d234" = 6
  dimension "d235" = 3
extrude "Extrusion59" cut sketch "Skizze63" against normal blind 5 contours A1 L3 L4 | A1 L4 L3
sketch "Skizze64" plane through (0, 5, 0) normal (0, 1, 0) x (1, 0, 0)
  circle A0 centre (-62.65, 6) radius 1.5 projected
  circle A1 centre (-62.65, 6) radius 1.5
  point P0 (0, 0)
  dimension "d238" = 3
extrude "Extrusion60" add sketch "Skizze64" against normal blind 5
sketch "Skizze65" plane through (0, 5, 0) normal (0, 1, 0) x (1, 0, 0)
  circle A0 centre (-62.65, 23) radius 1.5 projected
  circle A1 centre (-62.65, 23) radius 1.5
  point P0 (0, 0)
  dimension "d241" = 3
extrude "Extrusion61" add sketch "Skizze65" against normal blind 5
sketch "Skizze66" plane through (0, 5, 0) normal (0, 1, 0) x (1, 0, 0)
  line L0 (-73.15, 30) -> (-73.15, 0) projected
  line L1 (-73.15, 0) -> (-67.15, 0)
  line L2 (-67.15, 0) -> (-67.15, 6)
  line L3 (-67.15, 6) -> (-73.15, 6)
  line L4 (-73.15, 6) -> (-73.15, 0)
  circle A0 centre (-67.15, 6) radius 1.5
  point P0 (0, 0)
  dimension "d244" = 6
  dimension "d245" = 6
  dimension "d246" = 3
extrude "Extrusion62" cut sketch "Skizze66" against normal blind 5 contours A0 L2 L3 | L3 L2 A0
sketch "Skizze67" plane through (0, 5, 0) normal (0, 1, 0) x (1, 0, 0)
  line L0 (-73.15, 0) -> (-73.15, 30) projected
  line L1 (-73.15, 30) -> (-67.15, 30)
  line L2 (-67.15, 30) -> (-67.15, 24)
  line L3 (-67.15, 24) -> (-73.15, 24)
  line L4 (-73.15, 24) -> (-73.15, 30)
  circle A0 centre (-67.15, 24) radius 1.5
  point P0 (0, 0)
  dimension "d249" = 6
  dimension "d250" = 6
  dimension "d251" = 3
extrude "Extrusion63" cut sketch "Skizze67" against normal blind 5 contours A0 L2 L3 | L3 L2 A0
sketch "Skizze68" plane through (-6, 5, 0) normal (1, 0, 0) x (0, 0, -1)
  line L0 (17.27, 17) -> (11.77, 17) projected
  line L1 (11.77, 17) -> (11.77, 17.625)
  line L2 (11.77, 17.625) -> (17.27, 17.625)
  line L3 (17.27, 17.625) -> (17.27, 15.125)
  line L4 (17.27, 15.125) -> (11.77, 15.125)
  line L5 (11.77, 15.125) -> (11.77, 17.625)
  point P0 (0, -5)
  dimension "d254" = 0.625
  dimension "d255" = 2.5
extrude "Extrusion64" cut sketch "Skizze68" against normal blind 5 contours L0 L1 L2 L3
sketch "Skizze69" plane through (-6, 5, 0) normal (1, 0, 0) x (0, 0, -1)
  line L0 (11.77, 17) -> (11.77, 15.75) projected
  line L1 (11.77, 15.75) -> (11.77, 15.125)
  line L2 (11.77, 15.75) -> (17.27, 15.75)
  line L3 (17.27, 15.75) -> (17.27, 15.125)
  line L4 (17.27, 15.125) -> (11.77, 15.125)
  line L5 (11.77, 15.125) -> (11.77, 15.75)
  point P0 (0, -5)
  dimension "d258" = 0.625
  dimension "d259" = 5.5
  dimension "d260" = 0.625
extrude "Extrusion65" cut sketch "Skizze69" against normal blind 16
extrude "Extrusion66" add sketch "Skizze68" against normal blind 16 contours L0 L1 L2 L3
sketch "Skizze70" plane through (-6, 5, 0) normal (1, 0, 0) x (0, 0, -1)
  line L0 (11.77, 17) -> (17.27, 17) projected
  line L1 (11.77, 17) -> (17.27, 17)
  line L2 (17.27, 17) -> (17.27, 17.625)
  line L3 (17.27, 17.625) -> (11.77, 17.625)
  line L4 (11.77, 17.625) -> (11.77, 17)
  point P0 (0, -5)
  dimension "d265" = 5.5
  dimension "d266" = 0.625
extrude "Extrusion67" cut sketch "Skizze70" against normal blind 16
sketch "Skizze71" plane through (-59.65, 5, -30) normal (-1, 0, 0) x (0, 0, 1)
  line L0 (17.75, 17) -> (12.25, 17) projected
  line L1 (12.25, 17) -> (17.75, 17)
  line L2 (17.75, 17) -> (17.75, 17.625)
  line L3 (17.75, 17.625) -> (12.25, 17.625)
  line L4 (12.25, 17.625) -> (12.25, 17)
  point P0 (30, -5)
  dimension "d269" = 5.5
  dimension "d270" = 0.625
extrude "Extrusion68" cut sketch "Skizze71" against normal blind 16
sketch "Skizze72" plane through (-59.65, 5, -30) normal (-1, 0, 0) x (0, 0, 1)
  line L0 (12.25, 15.75) -> (12.25, 17.625) projected
  line L1 (12.25, 15.75) -> (17.75, 15.75)
  line L2 (17.75, 15.75) -> (17.75, 15.125)
  line L3 (17.75, 15.125) -> (12.25, 15.125)
  line L4 (12.25, 15.125) -> (12.25, 15.75)
  point P0 (30, -5)
  dimension "d273" = 5.5
  dimension "d274" = 0.625
extrude "Extrusion69" cut sketch "Skizze72" against normal blind 16
sketch "Skizze73" plane through (-6, 5, 0) normal (1, 0, 0) x (0, 0, -1)
  line L0 (11.77, 17.625) -> (11.77, 15.125) projected
  line L1 (12.25, 15.125) -> (17.75, 15.125) projected
  line L2 (11.77, 17.625) -> (17.27, 17.625)
  line L3 (17.27, 17.625) -> (17.27, 15.125)
  line L4 (17.27, 15.125) -> (11.77, 15.125)
  line L5 (11.77, 15.125) -> (11.77, 17.625)
  point P0 (0, -5)
extrude "Extrusion70" add sketch "Skizze73" against normal blind 16
sketch "Skizze74" plane through (0, 26, 0) normal (0, 1, 0) x (1, 0, 0)
  circle A0 centre (-14, 15) radius 1.5 projected
  line L0 (-14, 15) -> (-6, 15)
  line L1 (-6, 0) -> (-6, 30) projected
  point P0 (0, 0)
sketch "Skizze75" plane through (-6, 5, 0) normal (1, 0, 0) x (0, 0, -1)
  line L0 (13.5, 21) -> (16.5, 21) projected
  line L1 (15, 21) -> (15, 17.5)
  line L2 (15, 21) -> (18.5, 21) construction
  line L3 (15, 17.5) -> (17.55, 17.5)
  line L4 (17.55, 17.5) -> (17.55, 15)
  line L5 (17.55, 15) -> (12.45, 15)
  line L6 (12.45, 15) -> (12.45, 17.5)
  line L7 (12.45, 17.5) -> (15, 17.5)
  point P0 (0, -5)
  dimension "d279" = 3.5
  dimension "d280" = 90
  dimension "d281" = 2.55
  dimension "d282" = 2.5
  dimension "d283" = 5.1
  dimension "d284" = 2.5
extrude "Extrusion71" cut sketch "Skizze75" against normal blind 16
sketch "Skizze76" plane through (0, 26, 0) normal (0, 1, 0) x (1, 0, 0)
  circle A0 centre (-14, 15) radius 1.5 projected
  circle A1 centre (-14, 15) radius 1.5
  point P0 (0, 0)
  dimension "d287" = 3
extrude "Extrusion72" add sketch "Skizze76" against normal blind 3.6
extrude "Extrusion73" cut sketch "Skizze74" against normal blind 3.6
sketch "Skizze77" plane through (-59.65, 5, -30) normal (-1, 0, 0) x (0, 0, 1)
  line L0 (12.25, 17.625) -> (12.25, 15.125) projected
  line L1 (17.75, 15.125) -> (12.25, 15.125) projected
  line L2 (12.25, 17.625) -> (17.75, 17.625)
  line L3 (17.75, 17.625) -> (17.75, 15.125)
  line L4 (17.75, 15.125) -> (12.25, 15.125)
  line L5 (12.25, 15.125) -> (12.25, 17.625)
  point P0 (30, -5)
extrude "Extrusion74" add sketch "Skizze77" against normal blind 16
sketch "Skizze78" plane through (0, 26, 0) normal (0, 1, 0) x (1, 0, 0)
  circle A0 centre (-51.65, 15) radius 1.5 projected
  line L0 (-51.65, 15) -> (-59.65, 15)
  line L1 (-59.65, 30) -> (-59.65, 0) projected
  point P0 (0, 0)
sketch "Skizze79" plane through (-59.65, 5, -30) normal (-1, 0, 0) x (0, 0, 1)
  line L0 (0, 21) -> (30, 21) projected
  line L1 (15, 21) -> (15, 17.5)
  line L2 (15, 17.5) -> (17.55, 17.5)
  line L3 (17.55, 17.5) -> (17.55, 15)
  line L4 (17.55, 15) -> (12.45, 15)
  line L5 (12.45, 15) -> (12.45, 17.5)
  line L6 (12.45, 17.5) -> (15, 17.5)
  line L7 (13.5, 17.625) -> (16.5, 17.625) projected
  point P0 (30, -5)
  dimension "d294" = 3.5
  dimension "d295" = 2.55
  dimension "d296" = 2.5
  dimension "d297" = 5.1
extrude "Extrusion75" cut sketch "Skizze79" against normal blind 16
sketch "Skizze80" plane through (0, 26, 0) normal (0, 1, 0) x (1, 0, 0)
  circle A0 centre (-51.65, 15) radius 1.5 projected
  circle A1 centre (-51.65, 15) radius 1.5
  point P0 (0, 0)
  dimension "d300" = 3
extrude "Extrusion76" add sketch "Skizze78" against normal blind 3.6
extrude "Extrusion77" cut sketch "Skizze80" against normal blind 3.6
properties part number "HalterungStangeNeu"
